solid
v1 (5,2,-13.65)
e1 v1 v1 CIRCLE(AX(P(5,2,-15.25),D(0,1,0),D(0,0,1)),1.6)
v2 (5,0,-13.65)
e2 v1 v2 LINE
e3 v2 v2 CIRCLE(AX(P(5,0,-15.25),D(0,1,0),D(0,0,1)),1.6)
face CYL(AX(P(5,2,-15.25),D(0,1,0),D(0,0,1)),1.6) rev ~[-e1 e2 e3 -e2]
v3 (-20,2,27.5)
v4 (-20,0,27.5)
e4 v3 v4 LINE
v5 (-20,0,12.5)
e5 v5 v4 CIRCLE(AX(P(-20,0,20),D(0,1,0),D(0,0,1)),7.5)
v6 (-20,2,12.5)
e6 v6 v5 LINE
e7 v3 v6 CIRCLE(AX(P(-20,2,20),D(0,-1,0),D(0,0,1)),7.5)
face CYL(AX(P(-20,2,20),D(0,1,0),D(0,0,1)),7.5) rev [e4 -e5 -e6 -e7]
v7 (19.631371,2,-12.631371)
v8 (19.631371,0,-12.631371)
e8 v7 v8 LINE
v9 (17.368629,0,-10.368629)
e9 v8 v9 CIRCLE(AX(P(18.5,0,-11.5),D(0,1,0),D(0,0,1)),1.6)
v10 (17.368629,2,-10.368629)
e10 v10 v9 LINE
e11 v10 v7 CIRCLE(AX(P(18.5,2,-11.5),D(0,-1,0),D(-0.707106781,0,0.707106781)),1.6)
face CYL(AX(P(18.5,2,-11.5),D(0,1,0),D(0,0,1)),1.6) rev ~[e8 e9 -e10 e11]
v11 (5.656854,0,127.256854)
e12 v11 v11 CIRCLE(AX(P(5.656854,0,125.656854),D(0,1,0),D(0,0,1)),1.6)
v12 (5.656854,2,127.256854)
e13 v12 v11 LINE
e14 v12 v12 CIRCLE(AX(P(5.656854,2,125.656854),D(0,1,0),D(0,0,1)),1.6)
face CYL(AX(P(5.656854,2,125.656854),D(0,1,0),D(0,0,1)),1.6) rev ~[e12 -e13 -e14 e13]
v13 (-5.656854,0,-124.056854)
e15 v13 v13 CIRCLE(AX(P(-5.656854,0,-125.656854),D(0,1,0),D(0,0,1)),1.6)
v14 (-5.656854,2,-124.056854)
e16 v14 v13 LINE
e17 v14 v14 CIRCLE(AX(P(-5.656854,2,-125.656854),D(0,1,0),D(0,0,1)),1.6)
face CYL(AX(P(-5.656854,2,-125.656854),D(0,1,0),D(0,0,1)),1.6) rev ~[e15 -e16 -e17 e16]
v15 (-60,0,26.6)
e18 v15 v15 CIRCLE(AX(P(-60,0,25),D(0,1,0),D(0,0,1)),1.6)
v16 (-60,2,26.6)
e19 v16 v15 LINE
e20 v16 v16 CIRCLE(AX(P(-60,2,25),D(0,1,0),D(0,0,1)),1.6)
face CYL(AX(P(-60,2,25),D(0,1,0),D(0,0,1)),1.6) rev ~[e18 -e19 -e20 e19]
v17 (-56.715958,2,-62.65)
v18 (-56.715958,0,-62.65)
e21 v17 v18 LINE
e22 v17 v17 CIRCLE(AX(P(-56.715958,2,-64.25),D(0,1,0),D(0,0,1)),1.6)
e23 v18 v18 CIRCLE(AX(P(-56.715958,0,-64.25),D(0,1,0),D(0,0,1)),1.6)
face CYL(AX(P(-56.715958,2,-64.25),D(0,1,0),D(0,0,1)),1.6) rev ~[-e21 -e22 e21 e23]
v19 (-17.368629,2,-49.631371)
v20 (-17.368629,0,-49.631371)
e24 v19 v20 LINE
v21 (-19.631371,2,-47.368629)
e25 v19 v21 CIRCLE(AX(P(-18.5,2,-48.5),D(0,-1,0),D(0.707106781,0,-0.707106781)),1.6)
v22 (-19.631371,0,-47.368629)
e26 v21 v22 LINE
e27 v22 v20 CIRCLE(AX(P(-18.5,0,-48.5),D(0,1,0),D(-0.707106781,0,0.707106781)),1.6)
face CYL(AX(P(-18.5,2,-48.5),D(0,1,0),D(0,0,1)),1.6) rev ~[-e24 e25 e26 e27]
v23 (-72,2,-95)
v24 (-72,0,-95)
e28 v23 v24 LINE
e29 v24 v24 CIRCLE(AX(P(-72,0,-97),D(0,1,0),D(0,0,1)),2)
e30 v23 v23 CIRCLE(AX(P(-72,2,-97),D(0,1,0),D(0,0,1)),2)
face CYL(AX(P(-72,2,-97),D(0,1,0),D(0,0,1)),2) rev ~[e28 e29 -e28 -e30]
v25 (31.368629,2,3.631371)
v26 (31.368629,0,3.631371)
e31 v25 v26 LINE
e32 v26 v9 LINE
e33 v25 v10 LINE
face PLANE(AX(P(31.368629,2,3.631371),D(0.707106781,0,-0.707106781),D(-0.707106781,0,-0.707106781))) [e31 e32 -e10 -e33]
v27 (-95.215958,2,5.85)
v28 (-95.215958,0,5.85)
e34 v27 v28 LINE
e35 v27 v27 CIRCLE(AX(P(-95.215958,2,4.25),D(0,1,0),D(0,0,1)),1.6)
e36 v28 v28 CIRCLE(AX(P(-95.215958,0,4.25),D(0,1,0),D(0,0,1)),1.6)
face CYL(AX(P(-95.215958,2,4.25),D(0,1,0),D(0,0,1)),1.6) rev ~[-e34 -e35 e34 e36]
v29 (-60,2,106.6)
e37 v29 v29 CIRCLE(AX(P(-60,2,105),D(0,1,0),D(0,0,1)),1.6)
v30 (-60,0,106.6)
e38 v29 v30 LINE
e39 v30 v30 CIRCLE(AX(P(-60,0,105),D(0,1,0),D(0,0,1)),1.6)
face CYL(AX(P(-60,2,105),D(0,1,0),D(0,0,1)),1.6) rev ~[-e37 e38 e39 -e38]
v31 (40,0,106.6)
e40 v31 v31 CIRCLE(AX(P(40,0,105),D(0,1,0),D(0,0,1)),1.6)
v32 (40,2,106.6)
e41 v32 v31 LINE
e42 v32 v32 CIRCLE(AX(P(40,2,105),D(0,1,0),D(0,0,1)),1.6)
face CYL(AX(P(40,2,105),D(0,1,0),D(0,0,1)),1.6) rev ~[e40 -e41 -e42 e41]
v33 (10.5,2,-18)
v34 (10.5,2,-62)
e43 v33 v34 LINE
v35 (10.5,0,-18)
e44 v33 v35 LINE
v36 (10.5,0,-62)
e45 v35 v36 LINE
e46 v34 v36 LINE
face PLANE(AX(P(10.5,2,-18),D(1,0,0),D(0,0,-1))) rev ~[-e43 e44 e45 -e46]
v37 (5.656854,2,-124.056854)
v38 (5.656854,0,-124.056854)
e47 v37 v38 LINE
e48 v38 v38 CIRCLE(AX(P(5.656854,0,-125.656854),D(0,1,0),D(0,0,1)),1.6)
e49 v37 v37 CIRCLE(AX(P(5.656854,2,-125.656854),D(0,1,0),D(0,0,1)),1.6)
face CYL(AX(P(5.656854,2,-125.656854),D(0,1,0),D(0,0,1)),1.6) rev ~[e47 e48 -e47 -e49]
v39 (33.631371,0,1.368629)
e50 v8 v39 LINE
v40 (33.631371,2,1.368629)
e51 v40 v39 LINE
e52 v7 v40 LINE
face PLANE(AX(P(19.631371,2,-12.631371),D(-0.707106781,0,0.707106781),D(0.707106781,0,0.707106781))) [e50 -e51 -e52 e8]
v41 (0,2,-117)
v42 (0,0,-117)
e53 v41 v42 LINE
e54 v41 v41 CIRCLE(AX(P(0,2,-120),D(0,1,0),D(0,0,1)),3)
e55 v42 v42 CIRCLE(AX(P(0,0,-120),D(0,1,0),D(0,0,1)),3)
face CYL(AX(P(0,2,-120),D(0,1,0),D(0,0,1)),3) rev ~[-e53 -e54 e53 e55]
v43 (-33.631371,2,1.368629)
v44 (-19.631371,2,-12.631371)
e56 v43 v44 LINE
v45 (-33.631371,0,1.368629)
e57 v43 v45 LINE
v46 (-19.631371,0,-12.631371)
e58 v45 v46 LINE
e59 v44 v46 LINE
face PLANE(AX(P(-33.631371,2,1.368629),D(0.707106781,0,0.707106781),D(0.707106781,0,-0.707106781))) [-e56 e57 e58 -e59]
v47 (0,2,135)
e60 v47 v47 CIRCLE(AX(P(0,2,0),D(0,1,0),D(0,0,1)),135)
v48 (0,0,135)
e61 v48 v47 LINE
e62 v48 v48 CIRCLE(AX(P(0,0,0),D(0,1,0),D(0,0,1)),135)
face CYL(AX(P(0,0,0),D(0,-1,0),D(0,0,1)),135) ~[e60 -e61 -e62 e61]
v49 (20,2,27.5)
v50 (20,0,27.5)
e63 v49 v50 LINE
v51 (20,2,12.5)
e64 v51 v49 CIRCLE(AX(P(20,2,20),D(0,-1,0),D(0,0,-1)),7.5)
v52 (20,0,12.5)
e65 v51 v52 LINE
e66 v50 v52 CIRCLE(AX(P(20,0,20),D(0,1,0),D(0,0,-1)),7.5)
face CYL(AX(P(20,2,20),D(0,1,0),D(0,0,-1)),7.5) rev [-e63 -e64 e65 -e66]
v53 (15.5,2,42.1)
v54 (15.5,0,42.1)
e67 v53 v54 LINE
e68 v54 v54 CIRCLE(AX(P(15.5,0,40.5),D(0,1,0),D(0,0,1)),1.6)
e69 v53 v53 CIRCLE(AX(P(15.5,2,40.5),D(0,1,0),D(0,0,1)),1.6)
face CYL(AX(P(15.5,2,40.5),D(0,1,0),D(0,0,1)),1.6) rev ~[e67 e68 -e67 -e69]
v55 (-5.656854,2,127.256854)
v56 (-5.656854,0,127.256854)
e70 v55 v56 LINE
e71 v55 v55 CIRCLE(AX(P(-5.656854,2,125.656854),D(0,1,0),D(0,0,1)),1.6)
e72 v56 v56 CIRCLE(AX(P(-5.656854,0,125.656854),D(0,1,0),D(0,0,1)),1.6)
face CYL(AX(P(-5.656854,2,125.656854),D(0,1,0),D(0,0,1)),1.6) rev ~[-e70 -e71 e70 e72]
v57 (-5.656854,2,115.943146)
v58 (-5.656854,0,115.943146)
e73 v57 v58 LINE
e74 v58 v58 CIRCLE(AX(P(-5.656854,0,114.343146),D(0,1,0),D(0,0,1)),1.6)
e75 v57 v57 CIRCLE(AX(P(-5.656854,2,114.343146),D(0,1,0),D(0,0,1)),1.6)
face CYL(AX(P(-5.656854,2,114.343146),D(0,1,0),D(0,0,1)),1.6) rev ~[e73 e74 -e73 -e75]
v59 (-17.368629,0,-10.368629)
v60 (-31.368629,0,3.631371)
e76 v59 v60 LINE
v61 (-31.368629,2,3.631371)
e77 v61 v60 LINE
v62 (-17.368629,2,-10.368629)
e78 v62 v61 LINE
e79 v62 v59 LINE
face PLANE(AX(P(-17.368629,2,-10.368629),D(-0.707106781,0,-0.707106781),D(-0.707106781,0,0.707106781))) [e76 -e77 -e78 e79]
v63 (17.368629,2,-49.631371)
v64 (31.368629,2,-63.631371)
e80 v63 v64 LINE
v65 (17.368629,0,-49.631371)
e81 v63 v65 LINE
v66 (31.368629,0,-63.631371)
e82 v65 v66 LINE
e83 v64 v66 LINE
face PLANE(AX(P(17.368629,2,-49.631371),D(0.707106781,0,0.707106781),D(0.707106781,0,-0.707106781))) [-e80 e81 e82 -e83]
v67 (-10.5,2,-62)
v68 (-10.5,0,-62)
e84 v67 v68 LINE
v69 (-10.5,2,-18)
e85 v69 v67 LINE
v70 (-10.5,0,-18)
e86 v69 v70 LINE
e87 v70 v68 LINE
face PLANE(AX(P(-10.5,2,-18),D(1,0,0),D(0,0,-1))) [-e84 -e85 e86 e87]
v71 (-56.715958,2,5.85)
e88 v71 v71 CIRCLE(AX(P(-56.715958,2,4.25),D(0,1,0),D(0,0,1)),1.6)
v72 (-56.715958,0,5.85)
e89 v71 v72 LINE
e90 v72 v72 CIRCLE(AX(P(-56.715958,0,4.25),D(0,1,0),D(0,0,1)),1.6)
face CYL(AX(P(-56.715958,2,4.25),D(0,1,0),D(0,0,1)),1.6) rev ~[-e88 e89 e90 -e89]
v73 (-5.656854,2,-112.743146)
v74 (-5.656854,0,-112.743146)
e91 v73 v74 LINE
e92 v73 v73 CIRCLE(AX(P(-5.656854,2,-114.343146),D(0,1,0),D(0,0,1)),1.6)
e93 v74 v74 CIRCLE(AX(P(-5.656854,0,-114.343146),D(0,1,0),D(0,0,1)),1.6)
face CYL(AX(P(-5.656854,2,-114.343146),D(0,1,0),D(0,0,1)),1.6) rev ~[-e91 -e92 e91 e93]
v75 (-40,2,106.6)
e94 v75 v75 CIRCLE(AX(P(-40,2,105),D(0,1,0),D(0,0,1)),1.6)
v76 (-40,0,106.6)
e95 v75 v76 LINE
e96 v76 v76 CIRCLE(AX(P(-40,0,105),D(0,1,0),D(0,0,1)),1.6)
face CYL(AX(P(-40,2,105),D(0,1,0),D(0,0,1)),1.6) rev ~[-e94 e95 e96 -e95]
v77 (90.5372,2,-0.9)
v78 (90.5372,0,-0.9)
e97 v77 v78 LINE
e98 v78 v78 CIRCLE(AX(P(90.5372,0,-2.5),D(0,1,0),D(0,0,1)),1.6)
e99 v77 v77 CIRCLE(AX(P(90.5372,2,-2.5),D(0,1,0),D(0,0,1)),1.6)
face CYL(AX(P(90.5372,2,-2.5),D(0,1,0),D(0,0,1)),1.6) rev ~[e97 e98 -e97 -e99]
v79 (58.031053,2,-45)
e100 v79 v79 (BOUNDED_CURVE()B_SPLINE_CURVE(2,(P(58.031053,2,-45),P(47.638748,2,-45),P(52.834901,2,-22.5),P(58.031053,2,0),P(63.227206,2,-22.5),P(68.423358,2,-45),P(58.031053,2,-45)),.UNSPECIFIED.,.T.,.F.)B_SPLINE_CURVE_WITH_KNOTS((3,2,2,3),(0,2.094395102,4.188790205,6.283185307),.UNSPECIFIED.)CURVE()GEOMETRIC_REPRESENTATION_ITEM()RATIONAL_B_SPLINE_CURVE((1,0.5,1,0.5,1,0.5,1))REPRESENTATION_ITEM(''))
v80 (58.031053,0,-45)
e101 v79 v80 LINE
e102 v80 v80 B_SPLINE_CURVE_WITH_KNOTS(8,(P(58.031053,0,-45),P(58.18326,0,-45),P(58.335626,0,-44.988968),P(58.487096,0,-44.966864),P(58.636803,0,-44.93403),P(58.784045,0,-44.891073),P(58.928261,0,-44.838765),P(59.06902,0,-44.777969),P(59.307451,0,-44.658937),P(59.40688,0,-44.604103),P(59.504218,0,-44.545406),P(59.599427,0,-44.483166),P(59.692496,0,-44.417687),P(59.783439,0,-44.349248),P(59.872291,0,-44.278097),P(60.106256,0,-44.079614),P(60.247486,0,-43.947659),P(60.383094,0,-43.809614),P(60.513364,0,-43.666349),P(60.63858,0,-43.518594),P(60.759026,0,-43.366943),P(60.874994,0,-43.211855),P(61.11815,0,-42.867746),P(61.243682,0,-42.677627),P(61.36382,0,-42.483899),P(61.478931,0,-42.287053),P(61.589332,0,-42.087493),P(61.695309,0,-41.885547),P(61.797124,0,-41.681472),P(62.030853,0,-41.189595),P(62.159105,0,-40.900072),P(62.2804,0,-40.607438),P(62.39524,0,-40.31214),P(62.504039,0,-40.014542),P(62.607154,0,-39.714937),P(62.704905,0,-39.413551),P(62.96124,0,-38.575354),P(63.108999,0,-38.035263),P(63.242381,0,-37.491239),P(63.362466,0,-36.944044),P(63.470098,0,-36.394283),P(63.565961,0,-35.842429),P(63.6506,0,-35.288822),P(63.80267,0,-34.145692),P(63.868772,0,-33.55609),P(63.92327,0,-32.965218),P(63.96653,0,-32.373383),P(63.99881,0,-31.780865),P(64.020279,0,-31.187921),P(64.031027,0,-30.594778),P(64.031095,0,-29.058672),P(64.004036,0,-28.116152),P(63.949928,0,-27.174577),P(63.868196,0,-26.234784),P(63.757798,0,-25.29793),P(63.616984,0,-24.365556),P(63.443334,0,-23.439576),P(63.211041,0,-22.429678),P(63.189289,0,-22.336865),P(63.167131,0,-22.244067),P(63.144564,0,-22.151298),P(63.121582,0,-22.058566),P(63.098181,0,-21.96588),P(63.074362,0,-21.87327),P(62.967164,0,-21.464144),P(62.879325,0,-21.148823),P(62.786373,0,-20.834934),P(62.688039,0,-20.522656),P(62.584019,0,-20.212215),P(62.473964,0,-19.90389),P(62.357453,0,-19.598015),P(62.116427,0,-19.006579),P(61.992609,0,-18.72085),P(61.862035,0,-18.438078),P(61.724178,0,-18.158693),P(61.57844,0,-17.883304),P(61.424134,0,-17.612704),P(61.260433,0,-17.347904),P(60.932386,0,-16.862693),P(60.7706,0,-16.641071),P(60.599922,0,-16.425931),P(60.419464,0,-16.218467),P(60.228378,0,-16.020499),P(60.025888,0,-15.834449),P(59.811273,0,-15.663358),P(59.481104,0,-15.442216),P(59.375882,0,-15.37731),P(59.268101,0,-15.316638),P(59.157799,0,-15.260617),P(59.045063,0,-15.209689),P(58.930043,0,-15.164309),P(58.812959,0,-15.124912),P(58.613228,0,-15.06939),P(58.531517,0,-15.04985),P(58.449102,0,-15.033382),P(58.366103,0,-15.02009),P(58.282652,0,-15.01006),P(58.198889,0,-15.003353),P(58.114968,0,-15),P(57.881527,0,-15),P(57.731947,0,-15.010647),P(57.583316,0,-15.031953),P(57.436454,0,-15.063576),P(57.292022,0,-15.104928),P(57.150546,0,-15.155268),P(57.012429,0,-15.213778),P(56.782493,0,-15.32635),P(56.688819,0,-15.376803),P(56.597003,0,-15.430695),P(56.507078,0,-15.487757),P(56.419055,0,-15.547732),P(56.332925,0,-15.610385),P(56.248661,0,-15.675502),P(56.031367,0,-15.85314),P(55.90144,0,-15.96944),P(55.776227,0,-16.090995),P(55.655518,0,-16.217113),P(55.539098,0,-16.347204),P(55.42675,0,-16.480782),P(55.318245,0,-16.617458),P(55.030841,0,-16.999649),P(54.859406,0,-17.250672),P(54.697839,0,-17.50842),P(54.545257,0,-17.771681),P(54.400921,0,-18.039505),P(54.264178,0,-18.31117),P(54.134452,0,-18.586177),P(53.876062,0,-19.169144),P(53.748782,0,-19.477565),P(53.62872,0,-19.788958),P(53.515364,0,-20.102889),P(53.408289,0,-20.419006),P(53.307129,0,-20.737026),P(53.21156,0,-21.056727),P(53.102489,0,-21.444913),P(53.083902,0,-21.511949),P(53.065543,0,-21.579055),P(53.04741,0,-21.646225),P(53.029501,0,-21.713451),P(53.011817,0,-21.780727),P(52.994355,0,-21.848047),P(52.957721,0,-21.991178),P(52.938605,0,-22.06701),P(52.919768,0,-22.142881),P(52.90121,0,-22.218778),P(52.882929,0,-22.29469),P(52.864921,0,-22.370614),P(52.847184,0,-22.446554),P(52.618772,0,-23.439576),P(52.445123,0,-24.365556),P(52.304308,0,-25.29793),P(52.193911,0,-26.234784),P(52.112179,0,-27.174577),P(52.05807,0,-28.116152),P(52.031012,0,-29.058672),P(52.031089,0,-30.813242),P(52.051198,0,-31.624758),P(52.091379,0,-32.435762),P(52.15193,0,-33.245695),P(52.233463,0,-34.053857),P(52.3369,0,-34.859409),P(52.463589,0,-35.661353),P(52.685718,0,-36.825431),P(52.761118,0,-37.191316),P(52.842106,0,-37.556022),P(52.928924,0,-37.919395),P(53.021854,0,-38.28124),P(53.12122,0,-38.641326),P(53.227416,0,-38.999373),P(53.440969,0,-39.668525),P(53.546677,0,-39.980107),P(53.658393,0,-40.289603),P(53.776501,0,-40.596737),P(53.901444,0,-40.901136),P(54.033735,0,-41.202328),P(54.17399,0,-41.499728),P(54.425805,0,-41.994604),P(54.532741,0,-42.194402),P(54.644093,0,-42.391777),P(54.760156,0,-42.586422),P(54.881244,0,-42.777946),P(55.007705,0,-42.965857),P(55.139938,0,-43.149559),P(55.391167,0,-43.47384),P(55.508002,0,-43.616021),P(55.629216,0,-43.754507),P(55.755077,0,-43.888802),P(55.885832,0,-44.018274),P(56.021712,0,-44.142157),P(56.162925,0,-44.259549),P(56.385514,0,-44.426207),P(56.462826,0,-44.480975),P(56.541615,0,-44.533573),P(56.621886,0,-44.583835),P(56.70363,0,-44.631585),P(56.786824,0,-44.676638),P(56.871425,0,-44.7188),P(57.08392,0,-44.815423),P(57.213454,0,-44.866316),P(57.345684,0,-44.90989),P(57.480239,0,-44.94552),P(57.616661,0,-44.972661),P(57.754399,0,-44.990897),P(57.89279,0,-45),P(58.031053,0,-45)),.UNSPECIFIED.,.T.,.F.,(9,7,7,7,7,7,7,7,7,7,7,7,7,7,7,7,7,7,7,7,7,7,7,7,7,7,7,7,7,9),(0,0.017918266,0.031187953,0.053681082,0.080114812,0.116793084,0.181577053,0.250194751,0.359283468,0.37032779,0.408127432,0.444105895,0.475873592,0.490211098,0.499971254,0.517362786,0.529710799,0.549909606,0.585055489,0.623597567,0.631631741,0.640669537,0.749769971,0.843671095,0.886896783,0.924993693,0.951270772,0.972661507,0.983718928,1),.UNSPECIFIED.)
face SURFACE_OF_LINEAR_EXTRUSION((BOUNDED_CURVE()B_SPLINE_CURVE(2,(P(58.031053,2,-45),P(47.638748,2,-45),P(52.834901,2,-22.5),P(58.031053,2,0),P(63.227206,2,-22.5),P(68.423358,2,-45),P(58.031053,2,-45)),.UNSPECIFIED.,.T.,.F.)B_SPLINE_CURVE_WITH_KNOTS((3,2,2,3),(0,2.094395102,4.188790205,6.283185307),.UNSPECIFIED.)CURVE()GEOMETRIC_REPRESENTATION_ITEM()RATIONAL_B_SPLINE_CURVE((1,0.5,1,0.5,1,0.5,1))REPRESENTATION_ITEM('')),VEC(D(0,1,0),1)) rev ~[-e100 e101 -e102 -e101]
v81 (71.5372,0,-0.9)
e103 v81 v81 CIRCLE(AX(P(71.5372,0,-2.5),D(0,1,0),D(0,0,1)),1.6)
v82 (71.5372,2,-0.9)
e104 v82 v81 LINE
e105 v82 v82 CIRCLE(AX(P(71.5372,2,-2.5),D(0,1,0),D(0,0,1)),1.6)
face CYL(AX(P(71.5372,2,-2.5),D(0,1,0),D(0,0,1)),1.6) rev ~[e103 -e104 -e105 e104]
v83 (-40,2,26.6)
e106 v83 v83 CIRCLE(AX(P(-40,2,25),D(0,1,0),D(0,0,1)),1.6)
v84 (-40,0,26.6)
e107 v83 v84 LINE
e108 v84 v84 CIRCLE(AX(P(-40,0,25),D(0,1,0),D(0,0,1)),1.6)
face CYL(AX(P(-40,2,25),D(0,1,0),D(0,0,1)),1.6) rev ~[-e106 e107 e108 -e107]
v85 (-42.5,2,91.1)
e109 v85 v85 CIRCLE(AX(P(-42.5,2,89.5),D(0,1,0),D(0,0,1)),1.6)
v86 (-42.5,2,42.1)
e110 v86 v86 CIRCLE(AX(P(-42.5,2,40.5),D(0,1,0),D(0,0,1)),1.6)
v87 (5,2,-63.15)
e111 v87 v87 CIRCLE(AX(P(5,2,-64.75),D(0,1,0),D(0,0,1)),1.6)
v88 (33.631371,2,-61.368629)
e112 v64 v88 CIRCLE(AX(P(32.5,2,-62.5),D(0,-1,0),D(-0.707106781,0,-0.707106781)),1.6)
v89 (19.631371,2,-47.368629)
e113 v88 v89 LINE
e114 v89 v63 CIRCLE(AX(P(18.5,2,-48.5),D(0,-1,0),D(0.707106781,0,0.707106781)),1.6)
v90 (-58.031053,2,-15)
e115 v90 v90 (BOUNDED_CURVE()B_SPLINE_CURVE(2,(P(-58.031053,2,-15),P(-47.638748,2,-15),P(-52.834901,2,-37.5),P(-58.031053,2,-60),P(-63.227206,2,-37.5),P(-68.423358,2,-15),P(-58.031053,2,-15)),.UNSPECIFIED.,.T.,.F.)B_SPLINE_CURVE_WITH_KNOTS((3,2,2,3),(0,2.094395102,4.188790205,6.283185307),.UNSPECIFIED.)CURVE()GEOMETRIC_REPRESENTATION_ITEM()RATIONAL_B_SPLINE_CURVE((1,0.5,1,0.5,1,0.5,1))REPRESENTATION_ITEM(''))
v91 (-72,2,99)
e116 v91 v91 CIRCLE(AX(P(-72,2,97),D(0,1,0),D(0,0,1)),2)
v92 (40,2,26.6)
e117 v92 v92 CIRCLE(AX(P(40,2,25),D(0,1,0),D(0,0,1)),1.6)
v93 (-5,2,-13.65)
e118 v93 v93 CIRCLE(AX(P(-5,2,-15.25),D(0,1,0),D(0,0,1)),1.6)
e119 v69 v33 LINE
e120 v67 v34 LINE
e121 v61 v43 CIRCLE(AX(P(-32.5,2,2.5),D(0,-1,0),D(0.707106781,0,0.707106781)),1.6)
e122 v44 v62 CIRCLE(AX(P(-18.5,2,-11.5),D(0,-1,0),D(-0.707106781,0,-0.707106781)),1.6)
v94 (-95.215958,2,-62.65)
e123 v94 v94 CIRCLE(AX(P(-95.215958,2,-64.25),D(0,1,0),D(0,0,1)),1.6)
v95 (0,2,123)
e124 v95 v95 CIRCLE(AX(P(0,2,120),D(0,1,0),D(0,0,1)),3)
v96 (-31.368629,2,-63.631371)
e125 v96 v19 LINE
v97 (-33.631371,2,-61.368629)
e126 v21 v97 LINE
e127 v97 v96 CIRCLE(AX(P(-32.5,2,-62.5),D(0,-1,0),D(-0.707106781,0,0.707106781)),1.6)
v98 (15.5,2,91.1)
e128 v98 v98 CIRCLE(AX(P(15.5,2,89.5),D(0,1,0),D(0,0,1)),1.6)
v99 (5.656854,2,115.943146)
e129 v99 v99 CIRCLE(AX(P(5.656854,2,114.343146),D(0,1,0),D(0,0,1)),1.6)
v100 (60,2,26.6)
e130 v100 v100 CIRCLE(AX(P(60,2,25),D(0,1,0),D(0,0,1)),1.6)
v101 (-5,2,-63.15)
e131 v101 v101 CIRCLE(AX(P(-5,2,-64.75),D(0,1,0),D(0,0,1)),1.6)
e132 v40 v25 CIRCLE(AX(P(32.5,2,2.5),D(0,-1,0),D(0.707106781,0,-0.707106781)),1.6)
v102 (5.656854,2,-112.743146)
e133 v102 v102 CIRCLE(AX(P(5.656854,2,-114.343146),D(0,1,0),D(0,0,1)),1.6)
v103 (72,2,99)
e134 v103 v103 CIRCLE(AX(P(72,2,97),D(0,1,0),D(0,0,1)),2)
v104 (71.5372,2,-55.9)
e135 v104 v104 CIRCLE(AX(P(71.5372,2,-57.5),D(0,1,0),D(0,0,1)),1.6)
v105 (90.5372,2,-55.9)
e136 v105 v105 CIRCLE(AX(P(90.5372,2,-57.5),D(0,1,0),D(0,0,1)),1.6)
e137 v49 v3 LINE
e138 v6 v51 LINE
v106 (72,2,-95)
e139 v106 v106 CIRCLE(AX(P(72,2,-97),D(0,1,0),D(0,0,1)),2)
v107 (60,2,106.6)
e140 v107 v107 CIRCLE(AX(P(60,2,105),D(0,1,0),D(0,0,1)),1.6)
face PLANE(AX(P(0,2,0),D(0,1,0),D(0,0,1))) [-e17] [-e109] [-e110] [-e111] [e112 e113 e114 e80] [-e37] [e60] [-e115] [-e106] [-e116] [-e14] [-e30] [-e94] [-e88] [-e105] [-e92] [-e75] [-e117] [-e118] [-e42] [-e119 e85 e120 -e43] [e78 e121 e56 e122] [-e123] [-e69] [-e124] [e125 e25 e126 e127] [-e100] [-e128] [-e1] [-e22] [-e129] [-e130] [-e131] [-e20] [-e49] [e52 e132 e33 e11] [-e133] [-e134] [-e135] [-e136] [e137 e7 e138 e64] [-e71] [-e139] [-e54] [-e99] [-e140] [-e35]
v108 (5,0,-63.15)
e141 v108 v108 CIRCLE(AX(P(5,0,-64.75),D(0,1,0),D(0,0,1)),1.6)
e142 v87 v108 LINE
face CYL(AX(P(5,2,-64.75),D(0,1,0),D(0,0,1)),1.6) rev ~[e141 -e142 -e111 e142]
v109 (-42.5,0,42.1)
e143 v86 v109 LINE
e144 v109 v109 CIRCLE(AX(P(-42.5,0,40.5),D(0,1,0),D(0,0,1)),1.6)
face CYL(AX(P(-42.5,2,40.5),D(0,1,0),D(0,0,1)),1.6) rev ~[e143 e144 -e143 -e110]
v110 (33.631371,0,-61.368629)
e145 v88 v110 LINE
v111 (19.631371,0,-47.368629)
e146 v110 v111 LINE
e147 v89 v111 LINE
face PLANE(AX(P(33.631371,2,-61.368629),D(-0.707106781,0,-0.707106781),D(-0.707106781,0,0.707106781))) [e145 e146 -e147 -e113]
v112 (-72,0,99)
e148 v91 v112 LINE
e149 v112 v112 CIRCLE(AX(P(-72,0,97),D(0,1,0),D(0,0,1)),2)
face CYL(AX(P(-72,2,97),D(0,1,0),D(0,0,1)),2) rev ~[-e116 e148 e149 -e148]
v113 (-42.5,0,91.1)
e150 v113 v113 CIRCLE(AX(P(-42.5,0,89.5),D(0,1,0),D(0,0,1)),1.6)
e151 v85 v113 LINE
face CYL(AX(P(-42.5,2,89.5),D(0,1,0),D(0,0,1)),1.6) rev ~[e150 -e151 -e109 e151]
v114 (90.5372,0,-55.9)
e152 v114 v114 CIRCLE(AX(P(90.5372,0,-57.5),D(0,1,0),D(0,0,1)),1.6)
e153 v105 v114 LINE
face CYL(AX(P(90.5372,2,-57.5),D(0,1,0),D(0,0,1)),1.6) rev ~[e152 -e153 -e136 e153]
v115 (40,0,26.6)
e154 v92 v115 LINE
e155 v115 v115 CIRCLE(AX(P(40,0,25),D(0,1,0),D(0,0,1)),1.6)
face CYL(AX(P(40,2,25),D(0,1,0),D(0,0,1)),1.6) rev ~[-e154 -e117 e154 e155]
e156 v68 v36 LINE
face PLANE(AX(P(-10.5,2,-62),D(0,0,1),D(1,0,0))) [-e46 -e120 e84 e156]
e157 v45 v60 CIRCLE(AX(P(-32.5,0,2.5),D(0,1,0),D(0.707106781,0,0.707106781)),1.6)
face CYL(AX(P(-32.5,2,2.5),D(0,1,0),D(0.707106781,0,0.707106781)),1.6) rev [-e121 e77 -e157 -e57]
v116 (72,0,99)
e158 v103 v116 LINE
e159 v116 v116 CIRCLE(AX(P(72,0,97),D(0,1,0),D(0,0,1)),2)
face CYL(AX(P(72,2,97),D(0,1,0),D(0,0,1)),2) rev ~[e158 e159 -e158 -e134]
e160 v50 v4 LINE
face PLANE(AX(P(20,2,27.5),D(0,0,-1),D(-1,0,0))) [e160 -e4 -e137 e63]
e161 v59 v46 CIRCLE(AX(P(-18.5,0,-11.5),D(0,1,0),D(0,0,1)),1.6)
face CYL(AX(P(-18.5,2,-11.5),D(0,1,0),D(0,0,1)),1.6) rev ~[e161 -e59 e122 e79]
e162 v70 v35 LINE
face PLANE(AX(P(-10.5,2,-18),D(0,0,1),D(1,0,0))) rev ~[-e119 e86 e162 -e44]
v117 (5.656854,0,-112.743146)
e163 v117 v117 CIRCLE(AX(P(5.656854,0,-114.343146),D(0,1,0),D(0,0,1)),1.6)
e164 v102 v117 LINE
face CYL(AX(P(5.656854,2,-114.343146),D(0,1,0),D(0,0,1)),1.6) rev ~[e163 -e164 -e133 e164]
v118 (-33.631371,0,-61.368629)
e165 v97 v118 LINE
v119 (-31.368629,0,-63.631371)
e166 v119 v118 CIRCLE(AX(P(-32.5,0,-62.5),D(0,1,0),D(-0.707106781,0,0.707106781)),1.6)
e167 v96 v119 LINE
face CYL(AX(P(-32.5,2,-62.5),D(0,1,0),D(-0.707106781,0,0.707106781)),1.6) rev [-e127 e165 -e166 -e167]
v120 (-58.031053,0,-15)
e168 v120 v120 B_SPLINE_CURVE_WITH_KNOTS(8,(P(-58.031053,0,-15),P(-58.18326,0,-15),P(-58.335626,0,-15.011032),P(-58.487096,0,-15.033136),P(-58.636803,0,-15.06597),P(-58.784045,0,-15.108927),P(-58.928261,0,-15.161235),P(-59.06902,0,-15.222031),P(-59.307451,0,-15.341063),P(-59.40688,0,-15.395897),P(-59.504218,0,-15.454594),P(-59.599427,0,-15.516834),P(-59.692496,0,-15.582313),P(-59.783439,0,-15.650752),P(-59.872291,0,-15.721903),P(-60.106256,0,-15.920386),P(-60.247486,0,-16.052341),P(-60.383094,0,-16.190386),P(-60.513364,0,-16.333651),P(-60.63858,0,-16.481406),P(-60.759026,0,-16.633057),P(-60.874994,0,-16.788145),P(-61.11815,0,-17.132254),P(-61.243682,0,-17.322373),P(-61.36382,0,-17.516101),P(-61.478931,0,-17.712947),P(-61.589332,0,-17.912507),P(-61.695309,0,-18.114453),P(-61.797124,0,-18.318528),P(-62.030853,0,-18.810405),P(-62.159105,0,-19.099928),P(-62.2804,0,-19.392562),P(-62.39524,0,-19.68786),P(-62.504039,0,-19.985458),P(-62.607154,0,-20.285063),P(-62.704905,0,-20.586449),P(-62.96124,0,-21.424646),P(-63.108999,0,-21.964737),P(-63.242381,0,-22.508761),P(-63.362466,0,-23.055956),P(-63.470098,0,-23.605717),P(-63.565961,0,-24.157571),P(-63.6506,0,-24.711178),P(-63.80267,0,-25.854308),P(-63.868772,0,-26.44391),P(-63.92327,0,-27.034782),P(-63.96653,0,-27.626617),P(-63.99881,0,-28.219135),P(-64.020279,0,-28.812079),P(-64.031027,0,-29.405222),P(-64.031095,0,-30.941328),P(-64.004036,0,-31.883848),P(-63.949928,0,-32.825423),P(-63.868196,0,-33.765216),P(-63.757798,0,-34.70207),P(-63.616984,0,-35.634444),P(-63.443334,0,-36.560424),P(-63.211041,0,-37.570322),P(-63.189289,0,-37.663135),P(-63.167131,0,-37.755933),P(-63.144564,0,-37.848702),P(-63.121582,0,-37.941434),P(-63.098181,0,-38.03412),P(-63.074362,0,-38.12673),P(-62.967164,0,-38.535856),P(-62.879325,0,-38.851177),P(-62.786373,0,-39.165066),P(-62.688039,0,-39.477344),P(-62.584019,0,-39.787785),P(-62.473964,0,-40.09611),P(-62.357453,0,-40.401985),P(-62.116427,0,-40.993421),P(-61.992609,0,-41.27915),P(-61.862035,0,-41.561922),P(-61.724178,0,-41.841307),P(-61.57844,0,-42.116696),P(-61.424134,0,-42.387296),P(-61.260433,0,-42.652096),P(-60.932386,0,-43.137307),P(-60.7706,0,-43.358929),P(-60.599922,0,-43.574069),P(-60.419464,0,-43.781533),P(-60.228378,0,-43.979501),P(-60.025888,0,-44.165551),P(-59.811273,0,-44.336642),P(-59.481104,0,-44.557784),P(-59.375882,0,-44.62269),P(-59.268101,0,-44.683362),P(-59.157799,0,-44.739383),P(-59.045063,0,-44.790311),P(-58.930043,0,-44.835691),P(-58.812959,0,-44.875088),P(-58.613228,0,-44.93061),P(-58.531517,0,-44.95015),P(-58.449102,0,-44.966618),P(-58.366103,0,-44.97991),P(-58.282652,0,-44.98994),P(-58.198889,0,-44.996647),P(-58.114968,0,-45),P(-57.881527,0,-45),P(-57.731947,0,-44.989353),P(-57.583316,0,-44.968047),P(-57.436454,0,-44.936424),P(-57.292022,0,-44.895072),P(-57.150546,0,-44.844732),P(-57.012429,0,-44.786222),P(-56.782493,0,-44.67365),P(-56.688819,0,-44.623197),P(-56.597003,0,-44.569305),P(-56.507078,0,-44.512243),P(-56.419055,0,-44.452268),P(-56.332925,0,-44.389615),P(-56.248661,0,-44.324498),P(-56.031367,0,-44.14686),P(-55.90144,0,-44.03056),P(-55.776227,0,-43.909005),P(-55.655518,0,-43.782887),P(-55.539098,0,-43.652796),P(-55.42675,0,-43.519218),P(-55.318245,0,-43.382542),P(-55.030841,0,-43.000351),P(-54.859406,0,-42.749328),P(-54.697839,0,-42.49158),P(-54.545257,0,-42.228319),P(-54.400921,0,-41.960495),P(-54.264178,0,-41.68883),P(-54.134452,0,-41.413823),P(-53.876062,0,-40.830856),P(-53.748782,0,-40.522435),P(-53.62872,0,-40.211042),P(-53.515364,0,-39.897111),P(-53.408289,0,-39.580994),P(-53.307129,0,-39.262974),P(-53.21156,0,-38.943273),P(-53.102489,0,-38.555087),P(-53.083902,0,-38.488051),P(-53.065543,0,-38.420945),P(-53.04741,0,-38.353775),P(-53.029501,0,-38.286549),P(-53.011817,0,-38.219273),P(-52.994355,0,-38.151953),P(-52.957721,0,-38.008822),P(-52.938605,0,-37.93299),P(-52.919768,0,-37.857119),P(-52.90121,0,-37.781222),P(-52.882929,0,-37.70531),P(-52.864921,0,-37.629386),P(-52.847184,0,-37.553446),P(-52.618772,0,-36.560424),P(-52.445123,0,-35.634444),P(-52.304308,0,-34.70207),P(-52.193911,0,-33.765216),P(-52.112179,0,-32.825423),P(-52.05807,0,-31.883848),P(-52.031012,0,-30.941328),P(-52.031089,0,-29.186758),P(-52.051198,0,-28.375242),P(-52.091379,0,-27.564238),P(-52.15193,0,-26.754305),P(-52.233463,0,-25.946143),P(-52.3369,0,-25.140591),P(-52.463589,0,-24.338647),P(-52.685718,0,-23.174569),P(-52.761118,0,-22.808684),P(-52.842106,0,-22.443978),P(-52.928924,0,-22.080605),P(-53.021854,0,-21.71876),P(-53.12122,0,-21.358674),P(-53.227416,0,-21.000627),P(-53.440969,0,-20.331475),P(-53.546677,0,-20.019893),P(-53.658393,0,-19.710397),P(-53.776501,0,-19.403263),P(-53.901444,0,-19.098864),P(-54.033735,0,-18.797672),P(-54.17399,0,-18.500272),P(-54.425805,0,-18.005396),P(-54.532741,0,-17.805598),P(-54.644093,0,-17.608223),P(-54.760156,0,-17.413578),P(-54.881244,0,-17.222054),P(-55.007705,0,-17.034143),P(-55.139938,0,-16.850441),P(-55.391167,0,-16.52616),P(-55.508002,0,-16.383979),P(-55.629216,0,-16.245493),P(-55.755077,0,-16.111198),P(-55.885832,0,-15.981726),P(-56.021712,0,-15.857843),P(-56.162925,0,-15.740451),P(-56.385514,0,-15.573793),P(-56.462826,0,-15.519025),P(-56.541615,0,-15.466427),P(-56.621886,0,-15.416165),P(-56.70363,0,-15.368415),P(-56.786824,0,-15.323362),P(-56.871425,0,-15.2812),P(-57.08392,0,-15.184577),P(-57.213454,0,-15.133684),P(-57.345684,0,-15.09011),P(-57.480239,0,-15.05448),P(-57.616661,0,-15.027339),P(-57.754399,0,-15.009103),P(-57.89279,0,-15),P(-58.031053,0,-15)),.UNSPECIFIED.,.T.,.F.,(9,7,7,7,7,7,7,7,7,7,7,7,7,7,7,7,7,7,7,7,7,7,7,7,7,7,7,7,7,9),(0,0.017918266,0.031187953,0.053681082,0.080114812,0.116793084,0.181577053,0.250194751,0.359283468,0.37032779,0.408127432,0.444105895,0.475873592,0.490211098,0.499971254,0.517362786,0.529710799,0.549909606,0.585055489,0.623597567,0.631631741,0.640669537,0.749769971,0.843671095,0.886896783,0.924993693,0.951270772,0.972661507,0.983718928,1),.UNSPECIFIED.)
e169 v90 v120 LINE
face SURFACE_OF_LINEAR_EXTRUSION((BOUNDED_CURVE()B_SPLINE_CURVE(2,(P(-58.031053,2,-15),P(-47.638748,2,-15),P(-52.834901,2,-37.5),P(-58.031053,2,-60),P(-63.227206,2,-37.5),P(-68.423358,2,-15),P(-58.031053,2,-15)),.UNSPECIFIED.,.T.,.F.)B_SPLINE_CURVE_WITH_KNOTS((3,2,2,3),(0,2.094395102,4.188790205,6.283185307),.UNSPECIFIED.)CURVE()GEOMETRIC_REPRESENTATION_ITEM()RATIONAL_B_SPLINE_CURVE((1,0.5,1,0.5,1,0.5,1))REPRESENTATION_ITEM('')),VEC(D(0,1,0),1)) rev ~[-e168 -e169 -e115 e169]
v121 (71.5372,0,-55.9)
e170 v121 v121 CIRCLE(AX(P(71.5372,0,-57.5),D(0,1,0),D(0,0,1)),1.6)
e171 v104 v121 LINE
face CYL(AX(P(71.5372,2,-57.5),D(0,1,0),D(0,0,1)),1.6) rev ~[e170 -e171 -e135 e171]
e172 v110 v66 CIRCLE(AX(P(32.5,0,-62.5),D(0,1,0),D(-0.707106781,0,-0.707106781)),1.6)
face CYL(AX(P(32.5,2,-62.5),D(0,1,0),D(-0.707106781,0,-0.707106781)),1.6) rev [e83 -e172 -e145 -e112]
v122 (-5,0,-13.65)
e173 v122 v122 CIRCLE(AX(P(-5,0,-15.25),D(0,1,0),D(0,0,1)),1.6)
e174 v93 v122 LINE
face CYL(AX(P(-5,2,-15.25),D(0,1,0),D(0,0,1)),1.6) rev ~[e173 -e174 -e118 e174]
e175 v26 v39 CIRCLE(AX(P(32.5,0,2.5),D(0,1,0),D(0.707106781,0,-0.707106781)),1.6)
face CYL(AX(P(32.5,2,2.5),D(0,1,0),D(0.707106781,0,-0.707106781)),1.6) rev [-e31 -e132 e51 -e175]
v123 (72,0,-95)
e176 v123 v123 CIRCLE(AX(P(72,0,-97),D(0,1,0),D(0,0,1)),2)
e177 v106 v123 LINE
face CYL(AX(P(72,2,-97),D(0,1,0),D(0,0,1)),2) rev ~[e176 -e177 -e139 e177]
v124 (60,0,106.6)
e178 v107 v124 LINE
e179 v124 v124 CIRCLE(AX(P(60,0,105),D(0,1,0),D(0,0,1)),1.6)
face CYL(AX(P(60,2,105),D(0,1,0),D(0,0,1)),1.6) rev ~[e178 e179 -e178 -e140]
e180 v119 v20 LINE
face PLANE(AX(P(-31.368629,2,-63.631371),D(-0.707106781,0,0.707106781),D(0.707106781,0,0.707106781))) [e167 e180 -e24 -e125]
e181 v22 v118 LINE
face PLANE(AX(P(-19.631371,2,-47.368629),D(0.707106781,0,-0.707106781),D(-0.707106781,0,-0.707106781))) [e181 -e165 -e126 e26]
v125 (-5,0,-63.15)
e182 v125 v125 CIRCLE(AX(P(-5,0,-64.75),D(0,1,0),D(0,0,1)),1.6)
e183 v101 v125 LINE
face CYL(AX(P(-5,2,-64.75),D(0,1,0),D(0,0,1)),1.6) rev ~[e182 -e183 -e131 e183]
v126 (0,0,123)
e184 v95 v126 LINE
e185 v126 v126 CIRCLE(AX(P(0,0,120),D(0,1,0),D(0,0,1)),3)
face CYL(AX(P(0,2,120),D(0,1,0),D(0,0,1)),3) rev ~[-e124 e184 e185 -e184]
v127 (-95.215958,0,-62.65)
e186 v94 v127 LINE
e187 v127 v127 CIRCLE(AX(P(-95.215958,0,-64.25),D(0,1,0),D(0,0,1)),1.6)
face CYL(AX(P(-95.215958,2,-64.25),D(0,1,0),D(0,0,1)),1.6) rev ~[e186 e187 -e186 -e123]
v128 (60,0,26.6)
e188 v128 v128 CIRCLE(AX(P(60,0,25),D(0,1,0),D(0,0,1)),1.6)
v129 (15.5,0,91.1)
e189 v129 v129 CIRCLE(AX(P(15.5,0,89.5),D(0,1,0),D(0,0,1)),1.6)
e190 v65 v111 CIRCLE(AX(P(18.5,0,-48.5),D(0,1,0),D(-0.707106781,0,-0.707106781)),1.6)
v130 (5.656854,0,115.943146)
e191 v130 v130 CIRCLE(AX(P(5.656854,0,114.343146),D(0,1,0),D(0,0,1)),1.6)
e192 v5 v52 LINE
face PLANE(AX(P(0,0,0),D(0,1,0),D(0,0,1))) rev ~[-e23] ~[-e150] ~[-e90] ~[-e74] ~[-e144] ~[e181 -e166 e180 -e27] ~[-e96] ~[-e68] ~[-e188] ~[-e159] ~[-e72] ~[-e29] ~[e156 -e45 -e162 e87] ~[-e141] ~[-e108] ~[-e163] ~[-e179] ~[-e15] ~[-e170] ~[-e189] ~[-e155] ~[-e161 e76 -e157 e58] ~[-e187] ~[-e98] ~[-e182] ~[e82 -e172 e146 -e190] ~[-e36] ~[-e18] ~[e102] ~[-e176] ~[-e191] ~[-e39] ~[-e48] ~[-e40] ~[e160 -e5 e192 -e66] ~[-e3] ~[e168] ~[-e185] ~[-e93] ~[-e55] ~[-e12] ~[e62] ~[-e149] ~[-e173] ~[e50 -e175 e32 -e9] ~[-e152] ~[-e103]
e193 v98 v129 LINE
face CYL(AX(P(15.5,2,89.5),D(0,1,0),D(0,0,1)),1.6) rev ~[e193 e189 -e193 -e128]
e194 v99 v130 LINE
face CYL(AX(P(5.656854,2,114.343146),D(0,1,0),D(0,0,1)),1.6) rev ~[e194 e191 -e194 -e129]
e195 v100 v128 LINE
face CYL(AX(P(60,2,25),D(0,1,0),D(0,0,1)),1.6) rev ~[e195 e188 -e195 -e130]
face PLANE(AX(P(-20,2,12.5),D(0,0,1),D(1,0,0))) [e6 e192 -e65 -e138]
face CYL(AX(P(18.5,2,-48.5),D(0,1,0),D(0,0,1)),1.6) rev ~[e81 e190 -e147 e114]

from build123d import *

# Parameters (mm, degrees)
SKETCH_1_R          = 135
EXTRUDE_1_DEPTH     = 2
SKETCH_562_R        = 1.6
SKETCH_562_W        = 21
SKETCH_562_H        = 44
CUT_EXTRUDE_1_DEPTH = 10
SKETCH_1031_R       = 1.6
CUT_EXTRUDE_2_DEPTH = 10
SKETCH_4_R          = 2
SKETCH_4_R_2        = 3
SKETCH_4_R_3        = 1.6
CUT_EXTRUDE_3_DEPTH = 10
CUT_EXTRUDE_4_DEPTH = 10
SKETCH_6_R          = 1.6
CUT_EXTRUDE_7_DEPTH = 10


with BuildPart() as part:
    # 草图1 → 凸台-拉伸1 (new body)
    with BuildSketch(Plane(origin=(0, 0, 0), x_dir=(1, 0, 0), z_dir=(0, 1, 0))):
        with Locations(Location((0, 0, 0), (0, 0, 270))):
            Circle(SKETCH_1_R)
    extrude(amount=EXTRUDE_1_DEPTH)

    # Sketch 562 → 切除-拉伸1 (cut)
    with BuildSketch(Plane(origin=(0, 2, 0), x_dir=(1, 0, 0), z_dir=(0, 1, 0))):
        with Locations(Location((-5, 64.75, 0), (0, 0, 270))):
            Circle(SKETCH_562_R)
        with Locations(Location((5, 64.75, 0), (0, 0, 270))):
            Circle(SKETCH_562_R)
        with Locations(Location((-5, 15.25, 0), (0, 0, 270))):
            Circle(SKETCH_562_R)
        with Locations(Location((5, 15.25, 0), (0, 0, 270))):
            Circle(SKETCH_562_R)
        with Locations(Location((18.5, 48.5, 0), (0, 0, 270))):
            Circle(SKETCH_562_R)
        with Locations(Location((18.5, 11.5, 0), (0, 0, 270))):
            Circle(SKETCH_562_R)
        with Locations(Location((-18.5, 11.5, 0), (0, 0, 270))):
            Circle(SKETCH_562_R)
        with Locations(Location((-18.5, 48.5, 0), (0, 0, 270))):
            Circle(SKETCH_562_R)
        with Locations((0, 40)):
            Rectangle(SKETCH_562_W, SKETCH_562_H)
    extrude(amount=-CUT_EXTRUDE_1_DEPTH, mode=Mode.SUBTRACT)

    # Sketch 1031 → 切除-拉伸2 (cut)
    with BuildSketch(Plane(origin=(0, 2, 0), x_dir=(1, 0, 0), z_dir=(0, 1, 0))):
        with Locations(Location((-60, -25, 0), (0, 0, 270))):
            Circle(SKETCH_1031_R)
        with Locations(Location((-40, -25, 0), (0, 0, 270))):
            Circle(SKETCH_1031_R)
        with Locations(Location((40, -25, 0), (0, 0, 270))):
            Circle(SKETCH_1031_R)
        with Locations(Location((60, -25, 0), (0, 0, 270))):
            Circle(SKETCH_1031_R)
        with Locations(Location((60, -105, 0), (0, 0, 270))):
            Circle(SKETCH_1031_R)
        with Locations(Location((40, -105, 0), (0, 0, 270))):
            Circle(SKETCH_1031_R)
        with Locations(Location((-40, -105, 0), (0, 0, 270))):
            Circle(SKETCH_1031_R)
        with Locations(Location((-60, -105, 0), (0, 0, 270))):
            Circle(SKETCH_1031_R)
        with Locations(Location((-42.5, -89.5, 0), (0, 0, 270))):
            Circle(SKETCH_1031_R)
        with Locations(Location((-42.5, -40.5, 0), (0, 0, 270))):
            Circle(SKETCH_1031_R)
        with Locations(Location((15.5, -40.5, 0), (0, 0, 270))):
            Circle(SKETCH_1031_R)
        with Locations(Location((15.5, -89.5, 0), (0, 0, 270))):
            Circle(SKETCH_1031_R)
    extrude(amount=-CUT_EXTRUDE_2_DEPTH, mode=Mode.SUBTRACT)

    # 草图4 → 切除-拉伸3 (cut)
    with BuildSketch(Plane(origin=(0, 2, 0), x_dir=(1, 0, 0), z_dir=(0, 1, 0))):
        with Locations(Location((-72, 97, 0), (0, 0, 270))):
            Circle(SKETCH_4_R)
        with Locations(Location((72, 97, 0), (0, 0, 270))):
            Circle(SKETCH_4_R)
        with Locations(Location((72, -97, 0), (0, 0, 270))):
            Circle(SKETCH_4_R)
        with Locations(Location((-72, -97, 0), (0, 0, 270))):
            Circle(SKETCH_4_R)
        with Locations(Location((0, -120, 0), (0, 0, 270))):
            Circle(SKETCH_4_R_2)
        with Locations(Location((-5.656854249, -125.656854249, 0), (0, 0, 270))):
            Circle(SKETCH_4_R_3)
        with Locations(Location((-5.656854249, -114.343145751, 0), (0, 0, 270))):
            Circle(SKETCH_4_R_3)
        with Locations(Location((5.656854249, -114.343145751, 0), (0, 0, 270))):
            Circle(SKETCH_4_R_3)
        with Locations(Location((5.656854249, -125.656854249, 0), (0, 0, 270))):
            Circle(SKETCH_4_R_3)
        with Locations(Location((5.656854249, 125.656854249, 0), (0, 0, 270))):
            Circle(SKETCH_4_R_3)
        with Locations(Location((5.656854249, 114.343145751, 0), (0, 0, 270))):
            Circle(SKETCH_4_R_3)
        with Locations(Location((-5.656854249, 114.343145751, 0), (0, 0, 270))):
            Circle(SKETCH_4_R_3)
        with Locations(Location((-5.656854249, 125.656854249, 0), (0, 0, 270))):
            Circle(SKETCH_4_R_3)
        with Locations(Location((0, 120, 0), (0, 0, 270))):
            Circle(SKETCH_4_R_2)
        with BuildLine():
            Line((-20, -12.5), (20, -12.5))
            ThreePointArc((20, -12.5), (27.5, -20), (20, -27.5))
            Line((20, -27.5), (-20, -27.5))
            ThreePointArc((-20, -27.5), (-27.5, -20), (-20, -12.5))
        make_face()
    extrude(amount=-CUT_EXTRUDE_3_DEPTH, mode=Mode.SUBTRACT)

    # 草图5 → 切除-拉伸4 (cut)
    with BuildSketch(Plane(origin=(0, 2, 0), x_dir=(1, 0, 0), z_dir=(0, 1, 0))):
        with BuildLine():
            Line((-31.36862915, 63.63137085), (-17.36862915, 49.63137085))
            ThreePointArc((-17.36862915, 49.63137085), (-17.36862915, 47.36862915), (-19.63137085, 47.36862915))
            Line((-19.63137085, 47.36862915), (-33.63137085, 61.36862915))
            ThreePointArc((-33.63137085, 61.36862915), (-33.63137085, 63.63137085), (-31.36862915, 63.63137085))
        make_face()
        with BuildLine():
            Line((33.63137085, 61.36862915), (19.63137085, 47.36862915))
            ThreePointArc((19.63137085, 47.36862915), (17.36862915, 47.36862915), (17.36862915, 49.63137085))
            Line((17.36862915, 49.63137085), (31.36862915, 63.63137085))
            ThreePointArc((31.36862915, 63.63137085), (33.63137085, 63.63137085), (33.63137085, 61.36862915))
        make_face()
        with BuildLine():
            Line((31.36862915, -3.63137085), (17.36862915, 10.36862915))
            ThreePointArc((17.36862915, 10.36862915), (17.36862915, 12.63137085), (19.63137085, 12.63137085))
            Line((19.63137085, 12.63137085), (33.63137085, -1.36862915))
            ThreePointArc((33.63137085, -1.36862915), (33.63137085, -3.63137085), (31.36862915, -3.63137085))
        make_face()
        with BuildLine():
            Line((-33.63137085, -1.36862915), (-19.63137085, 12.63137085))
            ThreePointArc((-19.63137085, 12.63137085), (-17.36862915, 12.63137085), (-17.36862915, 10.36862915))
            Line((-17.36862915, 10.36862915), (-31.36862915, -3.63137085))
            ThreePointArc((-31.36862915, -3.63137085), (-33.63137085, -3.63137085), (-33.63137085, -1.36862915))
        make_face()
    extrude(amount=-CUT_EXTRUDE_4_DEPTH, mode=Mode.SUBTRACT)

    # 草图6 → 切除-拉伸7 (cut)
    with BuildSketch(Plane(origin=(0, 2, 0), x_dir=(1, 0, 0), z_dir=(0, 1, 0))):
        with Locations(Location((71.537199543, 2.5, 0), (0, 0, 270))):
            Circle(SKETCH_6_R)
        with Locations(Location((90.537199543, 2.5, 0), (0, 0, 270))):
            Circle(SKETCH_6_R)
        with Locations(Location((90.537199543, 57.5, 0), (0, 0, 270))):
            Circle(SKETCH_6_R)
        with Locations(Location((71.537199543, 57.5, 0), (0, 0, 270))):
            Circle(SKETCH_6_R)
        with Locations(Location((-95.215957975, -4.25, 0), (0, 0, 270))):
            Circle(SKETCH_6_R)
        with Locations(Location((-56.715957975, -4.25, 0), (0, 0, 270))):
            Circle(SKETCH_6_R)
        with Locations(Location((-95.215957975, 64.25, 0), (0, 0, 270))):
            Circle(SKETCH_6_R)
        with Locations(Location((-56.715957975, 64.25, 0), (0, 0, 270))):
            Circle(SKETCH_6_R)
        with BuildLine():
            add(Edge.make_bspline(
                [(-58.031053316, 15), (-47.63874847, 15), (-52.834900893, 37.5), (-58.031053316, 60), (-63.227205738, 37.5), (-68.423358161, 15), (-58.031053316, 15)],
                knots=[0, 0, 0, 2.094395102, 2.094395102, 4.188790205, 4.188790205, 6.283185307, 6.283185307, 6.283185307], degree=2, weights=[1, 0.5, 1, 0.5, 1, 0.5, 1]))
        make_face()
        with BuildLine():
            add(Edge.make_bspline(
                [(58.031053316, 45), (47.63874847, 45), (52.834900893, 22.5), (58.031053316, 0), (63.227205738, 22.5), (68.423358161, 45), (58.031053316, 45)],
                knots=[0, 0, 0, 2.094395102, 2.094395102, 4.188790205, 4.188790205, 6.283185307, 6.283185307, 6.283185307], degree=2, weights=[1, 0.5, 1, 0.5, 1, 0.5, 1]))
        make_face()
    extrude(amount=-CUT_EXTRUDE_7_DEPTH, mode=Mode.SUBTRACT)


solid = part.part
